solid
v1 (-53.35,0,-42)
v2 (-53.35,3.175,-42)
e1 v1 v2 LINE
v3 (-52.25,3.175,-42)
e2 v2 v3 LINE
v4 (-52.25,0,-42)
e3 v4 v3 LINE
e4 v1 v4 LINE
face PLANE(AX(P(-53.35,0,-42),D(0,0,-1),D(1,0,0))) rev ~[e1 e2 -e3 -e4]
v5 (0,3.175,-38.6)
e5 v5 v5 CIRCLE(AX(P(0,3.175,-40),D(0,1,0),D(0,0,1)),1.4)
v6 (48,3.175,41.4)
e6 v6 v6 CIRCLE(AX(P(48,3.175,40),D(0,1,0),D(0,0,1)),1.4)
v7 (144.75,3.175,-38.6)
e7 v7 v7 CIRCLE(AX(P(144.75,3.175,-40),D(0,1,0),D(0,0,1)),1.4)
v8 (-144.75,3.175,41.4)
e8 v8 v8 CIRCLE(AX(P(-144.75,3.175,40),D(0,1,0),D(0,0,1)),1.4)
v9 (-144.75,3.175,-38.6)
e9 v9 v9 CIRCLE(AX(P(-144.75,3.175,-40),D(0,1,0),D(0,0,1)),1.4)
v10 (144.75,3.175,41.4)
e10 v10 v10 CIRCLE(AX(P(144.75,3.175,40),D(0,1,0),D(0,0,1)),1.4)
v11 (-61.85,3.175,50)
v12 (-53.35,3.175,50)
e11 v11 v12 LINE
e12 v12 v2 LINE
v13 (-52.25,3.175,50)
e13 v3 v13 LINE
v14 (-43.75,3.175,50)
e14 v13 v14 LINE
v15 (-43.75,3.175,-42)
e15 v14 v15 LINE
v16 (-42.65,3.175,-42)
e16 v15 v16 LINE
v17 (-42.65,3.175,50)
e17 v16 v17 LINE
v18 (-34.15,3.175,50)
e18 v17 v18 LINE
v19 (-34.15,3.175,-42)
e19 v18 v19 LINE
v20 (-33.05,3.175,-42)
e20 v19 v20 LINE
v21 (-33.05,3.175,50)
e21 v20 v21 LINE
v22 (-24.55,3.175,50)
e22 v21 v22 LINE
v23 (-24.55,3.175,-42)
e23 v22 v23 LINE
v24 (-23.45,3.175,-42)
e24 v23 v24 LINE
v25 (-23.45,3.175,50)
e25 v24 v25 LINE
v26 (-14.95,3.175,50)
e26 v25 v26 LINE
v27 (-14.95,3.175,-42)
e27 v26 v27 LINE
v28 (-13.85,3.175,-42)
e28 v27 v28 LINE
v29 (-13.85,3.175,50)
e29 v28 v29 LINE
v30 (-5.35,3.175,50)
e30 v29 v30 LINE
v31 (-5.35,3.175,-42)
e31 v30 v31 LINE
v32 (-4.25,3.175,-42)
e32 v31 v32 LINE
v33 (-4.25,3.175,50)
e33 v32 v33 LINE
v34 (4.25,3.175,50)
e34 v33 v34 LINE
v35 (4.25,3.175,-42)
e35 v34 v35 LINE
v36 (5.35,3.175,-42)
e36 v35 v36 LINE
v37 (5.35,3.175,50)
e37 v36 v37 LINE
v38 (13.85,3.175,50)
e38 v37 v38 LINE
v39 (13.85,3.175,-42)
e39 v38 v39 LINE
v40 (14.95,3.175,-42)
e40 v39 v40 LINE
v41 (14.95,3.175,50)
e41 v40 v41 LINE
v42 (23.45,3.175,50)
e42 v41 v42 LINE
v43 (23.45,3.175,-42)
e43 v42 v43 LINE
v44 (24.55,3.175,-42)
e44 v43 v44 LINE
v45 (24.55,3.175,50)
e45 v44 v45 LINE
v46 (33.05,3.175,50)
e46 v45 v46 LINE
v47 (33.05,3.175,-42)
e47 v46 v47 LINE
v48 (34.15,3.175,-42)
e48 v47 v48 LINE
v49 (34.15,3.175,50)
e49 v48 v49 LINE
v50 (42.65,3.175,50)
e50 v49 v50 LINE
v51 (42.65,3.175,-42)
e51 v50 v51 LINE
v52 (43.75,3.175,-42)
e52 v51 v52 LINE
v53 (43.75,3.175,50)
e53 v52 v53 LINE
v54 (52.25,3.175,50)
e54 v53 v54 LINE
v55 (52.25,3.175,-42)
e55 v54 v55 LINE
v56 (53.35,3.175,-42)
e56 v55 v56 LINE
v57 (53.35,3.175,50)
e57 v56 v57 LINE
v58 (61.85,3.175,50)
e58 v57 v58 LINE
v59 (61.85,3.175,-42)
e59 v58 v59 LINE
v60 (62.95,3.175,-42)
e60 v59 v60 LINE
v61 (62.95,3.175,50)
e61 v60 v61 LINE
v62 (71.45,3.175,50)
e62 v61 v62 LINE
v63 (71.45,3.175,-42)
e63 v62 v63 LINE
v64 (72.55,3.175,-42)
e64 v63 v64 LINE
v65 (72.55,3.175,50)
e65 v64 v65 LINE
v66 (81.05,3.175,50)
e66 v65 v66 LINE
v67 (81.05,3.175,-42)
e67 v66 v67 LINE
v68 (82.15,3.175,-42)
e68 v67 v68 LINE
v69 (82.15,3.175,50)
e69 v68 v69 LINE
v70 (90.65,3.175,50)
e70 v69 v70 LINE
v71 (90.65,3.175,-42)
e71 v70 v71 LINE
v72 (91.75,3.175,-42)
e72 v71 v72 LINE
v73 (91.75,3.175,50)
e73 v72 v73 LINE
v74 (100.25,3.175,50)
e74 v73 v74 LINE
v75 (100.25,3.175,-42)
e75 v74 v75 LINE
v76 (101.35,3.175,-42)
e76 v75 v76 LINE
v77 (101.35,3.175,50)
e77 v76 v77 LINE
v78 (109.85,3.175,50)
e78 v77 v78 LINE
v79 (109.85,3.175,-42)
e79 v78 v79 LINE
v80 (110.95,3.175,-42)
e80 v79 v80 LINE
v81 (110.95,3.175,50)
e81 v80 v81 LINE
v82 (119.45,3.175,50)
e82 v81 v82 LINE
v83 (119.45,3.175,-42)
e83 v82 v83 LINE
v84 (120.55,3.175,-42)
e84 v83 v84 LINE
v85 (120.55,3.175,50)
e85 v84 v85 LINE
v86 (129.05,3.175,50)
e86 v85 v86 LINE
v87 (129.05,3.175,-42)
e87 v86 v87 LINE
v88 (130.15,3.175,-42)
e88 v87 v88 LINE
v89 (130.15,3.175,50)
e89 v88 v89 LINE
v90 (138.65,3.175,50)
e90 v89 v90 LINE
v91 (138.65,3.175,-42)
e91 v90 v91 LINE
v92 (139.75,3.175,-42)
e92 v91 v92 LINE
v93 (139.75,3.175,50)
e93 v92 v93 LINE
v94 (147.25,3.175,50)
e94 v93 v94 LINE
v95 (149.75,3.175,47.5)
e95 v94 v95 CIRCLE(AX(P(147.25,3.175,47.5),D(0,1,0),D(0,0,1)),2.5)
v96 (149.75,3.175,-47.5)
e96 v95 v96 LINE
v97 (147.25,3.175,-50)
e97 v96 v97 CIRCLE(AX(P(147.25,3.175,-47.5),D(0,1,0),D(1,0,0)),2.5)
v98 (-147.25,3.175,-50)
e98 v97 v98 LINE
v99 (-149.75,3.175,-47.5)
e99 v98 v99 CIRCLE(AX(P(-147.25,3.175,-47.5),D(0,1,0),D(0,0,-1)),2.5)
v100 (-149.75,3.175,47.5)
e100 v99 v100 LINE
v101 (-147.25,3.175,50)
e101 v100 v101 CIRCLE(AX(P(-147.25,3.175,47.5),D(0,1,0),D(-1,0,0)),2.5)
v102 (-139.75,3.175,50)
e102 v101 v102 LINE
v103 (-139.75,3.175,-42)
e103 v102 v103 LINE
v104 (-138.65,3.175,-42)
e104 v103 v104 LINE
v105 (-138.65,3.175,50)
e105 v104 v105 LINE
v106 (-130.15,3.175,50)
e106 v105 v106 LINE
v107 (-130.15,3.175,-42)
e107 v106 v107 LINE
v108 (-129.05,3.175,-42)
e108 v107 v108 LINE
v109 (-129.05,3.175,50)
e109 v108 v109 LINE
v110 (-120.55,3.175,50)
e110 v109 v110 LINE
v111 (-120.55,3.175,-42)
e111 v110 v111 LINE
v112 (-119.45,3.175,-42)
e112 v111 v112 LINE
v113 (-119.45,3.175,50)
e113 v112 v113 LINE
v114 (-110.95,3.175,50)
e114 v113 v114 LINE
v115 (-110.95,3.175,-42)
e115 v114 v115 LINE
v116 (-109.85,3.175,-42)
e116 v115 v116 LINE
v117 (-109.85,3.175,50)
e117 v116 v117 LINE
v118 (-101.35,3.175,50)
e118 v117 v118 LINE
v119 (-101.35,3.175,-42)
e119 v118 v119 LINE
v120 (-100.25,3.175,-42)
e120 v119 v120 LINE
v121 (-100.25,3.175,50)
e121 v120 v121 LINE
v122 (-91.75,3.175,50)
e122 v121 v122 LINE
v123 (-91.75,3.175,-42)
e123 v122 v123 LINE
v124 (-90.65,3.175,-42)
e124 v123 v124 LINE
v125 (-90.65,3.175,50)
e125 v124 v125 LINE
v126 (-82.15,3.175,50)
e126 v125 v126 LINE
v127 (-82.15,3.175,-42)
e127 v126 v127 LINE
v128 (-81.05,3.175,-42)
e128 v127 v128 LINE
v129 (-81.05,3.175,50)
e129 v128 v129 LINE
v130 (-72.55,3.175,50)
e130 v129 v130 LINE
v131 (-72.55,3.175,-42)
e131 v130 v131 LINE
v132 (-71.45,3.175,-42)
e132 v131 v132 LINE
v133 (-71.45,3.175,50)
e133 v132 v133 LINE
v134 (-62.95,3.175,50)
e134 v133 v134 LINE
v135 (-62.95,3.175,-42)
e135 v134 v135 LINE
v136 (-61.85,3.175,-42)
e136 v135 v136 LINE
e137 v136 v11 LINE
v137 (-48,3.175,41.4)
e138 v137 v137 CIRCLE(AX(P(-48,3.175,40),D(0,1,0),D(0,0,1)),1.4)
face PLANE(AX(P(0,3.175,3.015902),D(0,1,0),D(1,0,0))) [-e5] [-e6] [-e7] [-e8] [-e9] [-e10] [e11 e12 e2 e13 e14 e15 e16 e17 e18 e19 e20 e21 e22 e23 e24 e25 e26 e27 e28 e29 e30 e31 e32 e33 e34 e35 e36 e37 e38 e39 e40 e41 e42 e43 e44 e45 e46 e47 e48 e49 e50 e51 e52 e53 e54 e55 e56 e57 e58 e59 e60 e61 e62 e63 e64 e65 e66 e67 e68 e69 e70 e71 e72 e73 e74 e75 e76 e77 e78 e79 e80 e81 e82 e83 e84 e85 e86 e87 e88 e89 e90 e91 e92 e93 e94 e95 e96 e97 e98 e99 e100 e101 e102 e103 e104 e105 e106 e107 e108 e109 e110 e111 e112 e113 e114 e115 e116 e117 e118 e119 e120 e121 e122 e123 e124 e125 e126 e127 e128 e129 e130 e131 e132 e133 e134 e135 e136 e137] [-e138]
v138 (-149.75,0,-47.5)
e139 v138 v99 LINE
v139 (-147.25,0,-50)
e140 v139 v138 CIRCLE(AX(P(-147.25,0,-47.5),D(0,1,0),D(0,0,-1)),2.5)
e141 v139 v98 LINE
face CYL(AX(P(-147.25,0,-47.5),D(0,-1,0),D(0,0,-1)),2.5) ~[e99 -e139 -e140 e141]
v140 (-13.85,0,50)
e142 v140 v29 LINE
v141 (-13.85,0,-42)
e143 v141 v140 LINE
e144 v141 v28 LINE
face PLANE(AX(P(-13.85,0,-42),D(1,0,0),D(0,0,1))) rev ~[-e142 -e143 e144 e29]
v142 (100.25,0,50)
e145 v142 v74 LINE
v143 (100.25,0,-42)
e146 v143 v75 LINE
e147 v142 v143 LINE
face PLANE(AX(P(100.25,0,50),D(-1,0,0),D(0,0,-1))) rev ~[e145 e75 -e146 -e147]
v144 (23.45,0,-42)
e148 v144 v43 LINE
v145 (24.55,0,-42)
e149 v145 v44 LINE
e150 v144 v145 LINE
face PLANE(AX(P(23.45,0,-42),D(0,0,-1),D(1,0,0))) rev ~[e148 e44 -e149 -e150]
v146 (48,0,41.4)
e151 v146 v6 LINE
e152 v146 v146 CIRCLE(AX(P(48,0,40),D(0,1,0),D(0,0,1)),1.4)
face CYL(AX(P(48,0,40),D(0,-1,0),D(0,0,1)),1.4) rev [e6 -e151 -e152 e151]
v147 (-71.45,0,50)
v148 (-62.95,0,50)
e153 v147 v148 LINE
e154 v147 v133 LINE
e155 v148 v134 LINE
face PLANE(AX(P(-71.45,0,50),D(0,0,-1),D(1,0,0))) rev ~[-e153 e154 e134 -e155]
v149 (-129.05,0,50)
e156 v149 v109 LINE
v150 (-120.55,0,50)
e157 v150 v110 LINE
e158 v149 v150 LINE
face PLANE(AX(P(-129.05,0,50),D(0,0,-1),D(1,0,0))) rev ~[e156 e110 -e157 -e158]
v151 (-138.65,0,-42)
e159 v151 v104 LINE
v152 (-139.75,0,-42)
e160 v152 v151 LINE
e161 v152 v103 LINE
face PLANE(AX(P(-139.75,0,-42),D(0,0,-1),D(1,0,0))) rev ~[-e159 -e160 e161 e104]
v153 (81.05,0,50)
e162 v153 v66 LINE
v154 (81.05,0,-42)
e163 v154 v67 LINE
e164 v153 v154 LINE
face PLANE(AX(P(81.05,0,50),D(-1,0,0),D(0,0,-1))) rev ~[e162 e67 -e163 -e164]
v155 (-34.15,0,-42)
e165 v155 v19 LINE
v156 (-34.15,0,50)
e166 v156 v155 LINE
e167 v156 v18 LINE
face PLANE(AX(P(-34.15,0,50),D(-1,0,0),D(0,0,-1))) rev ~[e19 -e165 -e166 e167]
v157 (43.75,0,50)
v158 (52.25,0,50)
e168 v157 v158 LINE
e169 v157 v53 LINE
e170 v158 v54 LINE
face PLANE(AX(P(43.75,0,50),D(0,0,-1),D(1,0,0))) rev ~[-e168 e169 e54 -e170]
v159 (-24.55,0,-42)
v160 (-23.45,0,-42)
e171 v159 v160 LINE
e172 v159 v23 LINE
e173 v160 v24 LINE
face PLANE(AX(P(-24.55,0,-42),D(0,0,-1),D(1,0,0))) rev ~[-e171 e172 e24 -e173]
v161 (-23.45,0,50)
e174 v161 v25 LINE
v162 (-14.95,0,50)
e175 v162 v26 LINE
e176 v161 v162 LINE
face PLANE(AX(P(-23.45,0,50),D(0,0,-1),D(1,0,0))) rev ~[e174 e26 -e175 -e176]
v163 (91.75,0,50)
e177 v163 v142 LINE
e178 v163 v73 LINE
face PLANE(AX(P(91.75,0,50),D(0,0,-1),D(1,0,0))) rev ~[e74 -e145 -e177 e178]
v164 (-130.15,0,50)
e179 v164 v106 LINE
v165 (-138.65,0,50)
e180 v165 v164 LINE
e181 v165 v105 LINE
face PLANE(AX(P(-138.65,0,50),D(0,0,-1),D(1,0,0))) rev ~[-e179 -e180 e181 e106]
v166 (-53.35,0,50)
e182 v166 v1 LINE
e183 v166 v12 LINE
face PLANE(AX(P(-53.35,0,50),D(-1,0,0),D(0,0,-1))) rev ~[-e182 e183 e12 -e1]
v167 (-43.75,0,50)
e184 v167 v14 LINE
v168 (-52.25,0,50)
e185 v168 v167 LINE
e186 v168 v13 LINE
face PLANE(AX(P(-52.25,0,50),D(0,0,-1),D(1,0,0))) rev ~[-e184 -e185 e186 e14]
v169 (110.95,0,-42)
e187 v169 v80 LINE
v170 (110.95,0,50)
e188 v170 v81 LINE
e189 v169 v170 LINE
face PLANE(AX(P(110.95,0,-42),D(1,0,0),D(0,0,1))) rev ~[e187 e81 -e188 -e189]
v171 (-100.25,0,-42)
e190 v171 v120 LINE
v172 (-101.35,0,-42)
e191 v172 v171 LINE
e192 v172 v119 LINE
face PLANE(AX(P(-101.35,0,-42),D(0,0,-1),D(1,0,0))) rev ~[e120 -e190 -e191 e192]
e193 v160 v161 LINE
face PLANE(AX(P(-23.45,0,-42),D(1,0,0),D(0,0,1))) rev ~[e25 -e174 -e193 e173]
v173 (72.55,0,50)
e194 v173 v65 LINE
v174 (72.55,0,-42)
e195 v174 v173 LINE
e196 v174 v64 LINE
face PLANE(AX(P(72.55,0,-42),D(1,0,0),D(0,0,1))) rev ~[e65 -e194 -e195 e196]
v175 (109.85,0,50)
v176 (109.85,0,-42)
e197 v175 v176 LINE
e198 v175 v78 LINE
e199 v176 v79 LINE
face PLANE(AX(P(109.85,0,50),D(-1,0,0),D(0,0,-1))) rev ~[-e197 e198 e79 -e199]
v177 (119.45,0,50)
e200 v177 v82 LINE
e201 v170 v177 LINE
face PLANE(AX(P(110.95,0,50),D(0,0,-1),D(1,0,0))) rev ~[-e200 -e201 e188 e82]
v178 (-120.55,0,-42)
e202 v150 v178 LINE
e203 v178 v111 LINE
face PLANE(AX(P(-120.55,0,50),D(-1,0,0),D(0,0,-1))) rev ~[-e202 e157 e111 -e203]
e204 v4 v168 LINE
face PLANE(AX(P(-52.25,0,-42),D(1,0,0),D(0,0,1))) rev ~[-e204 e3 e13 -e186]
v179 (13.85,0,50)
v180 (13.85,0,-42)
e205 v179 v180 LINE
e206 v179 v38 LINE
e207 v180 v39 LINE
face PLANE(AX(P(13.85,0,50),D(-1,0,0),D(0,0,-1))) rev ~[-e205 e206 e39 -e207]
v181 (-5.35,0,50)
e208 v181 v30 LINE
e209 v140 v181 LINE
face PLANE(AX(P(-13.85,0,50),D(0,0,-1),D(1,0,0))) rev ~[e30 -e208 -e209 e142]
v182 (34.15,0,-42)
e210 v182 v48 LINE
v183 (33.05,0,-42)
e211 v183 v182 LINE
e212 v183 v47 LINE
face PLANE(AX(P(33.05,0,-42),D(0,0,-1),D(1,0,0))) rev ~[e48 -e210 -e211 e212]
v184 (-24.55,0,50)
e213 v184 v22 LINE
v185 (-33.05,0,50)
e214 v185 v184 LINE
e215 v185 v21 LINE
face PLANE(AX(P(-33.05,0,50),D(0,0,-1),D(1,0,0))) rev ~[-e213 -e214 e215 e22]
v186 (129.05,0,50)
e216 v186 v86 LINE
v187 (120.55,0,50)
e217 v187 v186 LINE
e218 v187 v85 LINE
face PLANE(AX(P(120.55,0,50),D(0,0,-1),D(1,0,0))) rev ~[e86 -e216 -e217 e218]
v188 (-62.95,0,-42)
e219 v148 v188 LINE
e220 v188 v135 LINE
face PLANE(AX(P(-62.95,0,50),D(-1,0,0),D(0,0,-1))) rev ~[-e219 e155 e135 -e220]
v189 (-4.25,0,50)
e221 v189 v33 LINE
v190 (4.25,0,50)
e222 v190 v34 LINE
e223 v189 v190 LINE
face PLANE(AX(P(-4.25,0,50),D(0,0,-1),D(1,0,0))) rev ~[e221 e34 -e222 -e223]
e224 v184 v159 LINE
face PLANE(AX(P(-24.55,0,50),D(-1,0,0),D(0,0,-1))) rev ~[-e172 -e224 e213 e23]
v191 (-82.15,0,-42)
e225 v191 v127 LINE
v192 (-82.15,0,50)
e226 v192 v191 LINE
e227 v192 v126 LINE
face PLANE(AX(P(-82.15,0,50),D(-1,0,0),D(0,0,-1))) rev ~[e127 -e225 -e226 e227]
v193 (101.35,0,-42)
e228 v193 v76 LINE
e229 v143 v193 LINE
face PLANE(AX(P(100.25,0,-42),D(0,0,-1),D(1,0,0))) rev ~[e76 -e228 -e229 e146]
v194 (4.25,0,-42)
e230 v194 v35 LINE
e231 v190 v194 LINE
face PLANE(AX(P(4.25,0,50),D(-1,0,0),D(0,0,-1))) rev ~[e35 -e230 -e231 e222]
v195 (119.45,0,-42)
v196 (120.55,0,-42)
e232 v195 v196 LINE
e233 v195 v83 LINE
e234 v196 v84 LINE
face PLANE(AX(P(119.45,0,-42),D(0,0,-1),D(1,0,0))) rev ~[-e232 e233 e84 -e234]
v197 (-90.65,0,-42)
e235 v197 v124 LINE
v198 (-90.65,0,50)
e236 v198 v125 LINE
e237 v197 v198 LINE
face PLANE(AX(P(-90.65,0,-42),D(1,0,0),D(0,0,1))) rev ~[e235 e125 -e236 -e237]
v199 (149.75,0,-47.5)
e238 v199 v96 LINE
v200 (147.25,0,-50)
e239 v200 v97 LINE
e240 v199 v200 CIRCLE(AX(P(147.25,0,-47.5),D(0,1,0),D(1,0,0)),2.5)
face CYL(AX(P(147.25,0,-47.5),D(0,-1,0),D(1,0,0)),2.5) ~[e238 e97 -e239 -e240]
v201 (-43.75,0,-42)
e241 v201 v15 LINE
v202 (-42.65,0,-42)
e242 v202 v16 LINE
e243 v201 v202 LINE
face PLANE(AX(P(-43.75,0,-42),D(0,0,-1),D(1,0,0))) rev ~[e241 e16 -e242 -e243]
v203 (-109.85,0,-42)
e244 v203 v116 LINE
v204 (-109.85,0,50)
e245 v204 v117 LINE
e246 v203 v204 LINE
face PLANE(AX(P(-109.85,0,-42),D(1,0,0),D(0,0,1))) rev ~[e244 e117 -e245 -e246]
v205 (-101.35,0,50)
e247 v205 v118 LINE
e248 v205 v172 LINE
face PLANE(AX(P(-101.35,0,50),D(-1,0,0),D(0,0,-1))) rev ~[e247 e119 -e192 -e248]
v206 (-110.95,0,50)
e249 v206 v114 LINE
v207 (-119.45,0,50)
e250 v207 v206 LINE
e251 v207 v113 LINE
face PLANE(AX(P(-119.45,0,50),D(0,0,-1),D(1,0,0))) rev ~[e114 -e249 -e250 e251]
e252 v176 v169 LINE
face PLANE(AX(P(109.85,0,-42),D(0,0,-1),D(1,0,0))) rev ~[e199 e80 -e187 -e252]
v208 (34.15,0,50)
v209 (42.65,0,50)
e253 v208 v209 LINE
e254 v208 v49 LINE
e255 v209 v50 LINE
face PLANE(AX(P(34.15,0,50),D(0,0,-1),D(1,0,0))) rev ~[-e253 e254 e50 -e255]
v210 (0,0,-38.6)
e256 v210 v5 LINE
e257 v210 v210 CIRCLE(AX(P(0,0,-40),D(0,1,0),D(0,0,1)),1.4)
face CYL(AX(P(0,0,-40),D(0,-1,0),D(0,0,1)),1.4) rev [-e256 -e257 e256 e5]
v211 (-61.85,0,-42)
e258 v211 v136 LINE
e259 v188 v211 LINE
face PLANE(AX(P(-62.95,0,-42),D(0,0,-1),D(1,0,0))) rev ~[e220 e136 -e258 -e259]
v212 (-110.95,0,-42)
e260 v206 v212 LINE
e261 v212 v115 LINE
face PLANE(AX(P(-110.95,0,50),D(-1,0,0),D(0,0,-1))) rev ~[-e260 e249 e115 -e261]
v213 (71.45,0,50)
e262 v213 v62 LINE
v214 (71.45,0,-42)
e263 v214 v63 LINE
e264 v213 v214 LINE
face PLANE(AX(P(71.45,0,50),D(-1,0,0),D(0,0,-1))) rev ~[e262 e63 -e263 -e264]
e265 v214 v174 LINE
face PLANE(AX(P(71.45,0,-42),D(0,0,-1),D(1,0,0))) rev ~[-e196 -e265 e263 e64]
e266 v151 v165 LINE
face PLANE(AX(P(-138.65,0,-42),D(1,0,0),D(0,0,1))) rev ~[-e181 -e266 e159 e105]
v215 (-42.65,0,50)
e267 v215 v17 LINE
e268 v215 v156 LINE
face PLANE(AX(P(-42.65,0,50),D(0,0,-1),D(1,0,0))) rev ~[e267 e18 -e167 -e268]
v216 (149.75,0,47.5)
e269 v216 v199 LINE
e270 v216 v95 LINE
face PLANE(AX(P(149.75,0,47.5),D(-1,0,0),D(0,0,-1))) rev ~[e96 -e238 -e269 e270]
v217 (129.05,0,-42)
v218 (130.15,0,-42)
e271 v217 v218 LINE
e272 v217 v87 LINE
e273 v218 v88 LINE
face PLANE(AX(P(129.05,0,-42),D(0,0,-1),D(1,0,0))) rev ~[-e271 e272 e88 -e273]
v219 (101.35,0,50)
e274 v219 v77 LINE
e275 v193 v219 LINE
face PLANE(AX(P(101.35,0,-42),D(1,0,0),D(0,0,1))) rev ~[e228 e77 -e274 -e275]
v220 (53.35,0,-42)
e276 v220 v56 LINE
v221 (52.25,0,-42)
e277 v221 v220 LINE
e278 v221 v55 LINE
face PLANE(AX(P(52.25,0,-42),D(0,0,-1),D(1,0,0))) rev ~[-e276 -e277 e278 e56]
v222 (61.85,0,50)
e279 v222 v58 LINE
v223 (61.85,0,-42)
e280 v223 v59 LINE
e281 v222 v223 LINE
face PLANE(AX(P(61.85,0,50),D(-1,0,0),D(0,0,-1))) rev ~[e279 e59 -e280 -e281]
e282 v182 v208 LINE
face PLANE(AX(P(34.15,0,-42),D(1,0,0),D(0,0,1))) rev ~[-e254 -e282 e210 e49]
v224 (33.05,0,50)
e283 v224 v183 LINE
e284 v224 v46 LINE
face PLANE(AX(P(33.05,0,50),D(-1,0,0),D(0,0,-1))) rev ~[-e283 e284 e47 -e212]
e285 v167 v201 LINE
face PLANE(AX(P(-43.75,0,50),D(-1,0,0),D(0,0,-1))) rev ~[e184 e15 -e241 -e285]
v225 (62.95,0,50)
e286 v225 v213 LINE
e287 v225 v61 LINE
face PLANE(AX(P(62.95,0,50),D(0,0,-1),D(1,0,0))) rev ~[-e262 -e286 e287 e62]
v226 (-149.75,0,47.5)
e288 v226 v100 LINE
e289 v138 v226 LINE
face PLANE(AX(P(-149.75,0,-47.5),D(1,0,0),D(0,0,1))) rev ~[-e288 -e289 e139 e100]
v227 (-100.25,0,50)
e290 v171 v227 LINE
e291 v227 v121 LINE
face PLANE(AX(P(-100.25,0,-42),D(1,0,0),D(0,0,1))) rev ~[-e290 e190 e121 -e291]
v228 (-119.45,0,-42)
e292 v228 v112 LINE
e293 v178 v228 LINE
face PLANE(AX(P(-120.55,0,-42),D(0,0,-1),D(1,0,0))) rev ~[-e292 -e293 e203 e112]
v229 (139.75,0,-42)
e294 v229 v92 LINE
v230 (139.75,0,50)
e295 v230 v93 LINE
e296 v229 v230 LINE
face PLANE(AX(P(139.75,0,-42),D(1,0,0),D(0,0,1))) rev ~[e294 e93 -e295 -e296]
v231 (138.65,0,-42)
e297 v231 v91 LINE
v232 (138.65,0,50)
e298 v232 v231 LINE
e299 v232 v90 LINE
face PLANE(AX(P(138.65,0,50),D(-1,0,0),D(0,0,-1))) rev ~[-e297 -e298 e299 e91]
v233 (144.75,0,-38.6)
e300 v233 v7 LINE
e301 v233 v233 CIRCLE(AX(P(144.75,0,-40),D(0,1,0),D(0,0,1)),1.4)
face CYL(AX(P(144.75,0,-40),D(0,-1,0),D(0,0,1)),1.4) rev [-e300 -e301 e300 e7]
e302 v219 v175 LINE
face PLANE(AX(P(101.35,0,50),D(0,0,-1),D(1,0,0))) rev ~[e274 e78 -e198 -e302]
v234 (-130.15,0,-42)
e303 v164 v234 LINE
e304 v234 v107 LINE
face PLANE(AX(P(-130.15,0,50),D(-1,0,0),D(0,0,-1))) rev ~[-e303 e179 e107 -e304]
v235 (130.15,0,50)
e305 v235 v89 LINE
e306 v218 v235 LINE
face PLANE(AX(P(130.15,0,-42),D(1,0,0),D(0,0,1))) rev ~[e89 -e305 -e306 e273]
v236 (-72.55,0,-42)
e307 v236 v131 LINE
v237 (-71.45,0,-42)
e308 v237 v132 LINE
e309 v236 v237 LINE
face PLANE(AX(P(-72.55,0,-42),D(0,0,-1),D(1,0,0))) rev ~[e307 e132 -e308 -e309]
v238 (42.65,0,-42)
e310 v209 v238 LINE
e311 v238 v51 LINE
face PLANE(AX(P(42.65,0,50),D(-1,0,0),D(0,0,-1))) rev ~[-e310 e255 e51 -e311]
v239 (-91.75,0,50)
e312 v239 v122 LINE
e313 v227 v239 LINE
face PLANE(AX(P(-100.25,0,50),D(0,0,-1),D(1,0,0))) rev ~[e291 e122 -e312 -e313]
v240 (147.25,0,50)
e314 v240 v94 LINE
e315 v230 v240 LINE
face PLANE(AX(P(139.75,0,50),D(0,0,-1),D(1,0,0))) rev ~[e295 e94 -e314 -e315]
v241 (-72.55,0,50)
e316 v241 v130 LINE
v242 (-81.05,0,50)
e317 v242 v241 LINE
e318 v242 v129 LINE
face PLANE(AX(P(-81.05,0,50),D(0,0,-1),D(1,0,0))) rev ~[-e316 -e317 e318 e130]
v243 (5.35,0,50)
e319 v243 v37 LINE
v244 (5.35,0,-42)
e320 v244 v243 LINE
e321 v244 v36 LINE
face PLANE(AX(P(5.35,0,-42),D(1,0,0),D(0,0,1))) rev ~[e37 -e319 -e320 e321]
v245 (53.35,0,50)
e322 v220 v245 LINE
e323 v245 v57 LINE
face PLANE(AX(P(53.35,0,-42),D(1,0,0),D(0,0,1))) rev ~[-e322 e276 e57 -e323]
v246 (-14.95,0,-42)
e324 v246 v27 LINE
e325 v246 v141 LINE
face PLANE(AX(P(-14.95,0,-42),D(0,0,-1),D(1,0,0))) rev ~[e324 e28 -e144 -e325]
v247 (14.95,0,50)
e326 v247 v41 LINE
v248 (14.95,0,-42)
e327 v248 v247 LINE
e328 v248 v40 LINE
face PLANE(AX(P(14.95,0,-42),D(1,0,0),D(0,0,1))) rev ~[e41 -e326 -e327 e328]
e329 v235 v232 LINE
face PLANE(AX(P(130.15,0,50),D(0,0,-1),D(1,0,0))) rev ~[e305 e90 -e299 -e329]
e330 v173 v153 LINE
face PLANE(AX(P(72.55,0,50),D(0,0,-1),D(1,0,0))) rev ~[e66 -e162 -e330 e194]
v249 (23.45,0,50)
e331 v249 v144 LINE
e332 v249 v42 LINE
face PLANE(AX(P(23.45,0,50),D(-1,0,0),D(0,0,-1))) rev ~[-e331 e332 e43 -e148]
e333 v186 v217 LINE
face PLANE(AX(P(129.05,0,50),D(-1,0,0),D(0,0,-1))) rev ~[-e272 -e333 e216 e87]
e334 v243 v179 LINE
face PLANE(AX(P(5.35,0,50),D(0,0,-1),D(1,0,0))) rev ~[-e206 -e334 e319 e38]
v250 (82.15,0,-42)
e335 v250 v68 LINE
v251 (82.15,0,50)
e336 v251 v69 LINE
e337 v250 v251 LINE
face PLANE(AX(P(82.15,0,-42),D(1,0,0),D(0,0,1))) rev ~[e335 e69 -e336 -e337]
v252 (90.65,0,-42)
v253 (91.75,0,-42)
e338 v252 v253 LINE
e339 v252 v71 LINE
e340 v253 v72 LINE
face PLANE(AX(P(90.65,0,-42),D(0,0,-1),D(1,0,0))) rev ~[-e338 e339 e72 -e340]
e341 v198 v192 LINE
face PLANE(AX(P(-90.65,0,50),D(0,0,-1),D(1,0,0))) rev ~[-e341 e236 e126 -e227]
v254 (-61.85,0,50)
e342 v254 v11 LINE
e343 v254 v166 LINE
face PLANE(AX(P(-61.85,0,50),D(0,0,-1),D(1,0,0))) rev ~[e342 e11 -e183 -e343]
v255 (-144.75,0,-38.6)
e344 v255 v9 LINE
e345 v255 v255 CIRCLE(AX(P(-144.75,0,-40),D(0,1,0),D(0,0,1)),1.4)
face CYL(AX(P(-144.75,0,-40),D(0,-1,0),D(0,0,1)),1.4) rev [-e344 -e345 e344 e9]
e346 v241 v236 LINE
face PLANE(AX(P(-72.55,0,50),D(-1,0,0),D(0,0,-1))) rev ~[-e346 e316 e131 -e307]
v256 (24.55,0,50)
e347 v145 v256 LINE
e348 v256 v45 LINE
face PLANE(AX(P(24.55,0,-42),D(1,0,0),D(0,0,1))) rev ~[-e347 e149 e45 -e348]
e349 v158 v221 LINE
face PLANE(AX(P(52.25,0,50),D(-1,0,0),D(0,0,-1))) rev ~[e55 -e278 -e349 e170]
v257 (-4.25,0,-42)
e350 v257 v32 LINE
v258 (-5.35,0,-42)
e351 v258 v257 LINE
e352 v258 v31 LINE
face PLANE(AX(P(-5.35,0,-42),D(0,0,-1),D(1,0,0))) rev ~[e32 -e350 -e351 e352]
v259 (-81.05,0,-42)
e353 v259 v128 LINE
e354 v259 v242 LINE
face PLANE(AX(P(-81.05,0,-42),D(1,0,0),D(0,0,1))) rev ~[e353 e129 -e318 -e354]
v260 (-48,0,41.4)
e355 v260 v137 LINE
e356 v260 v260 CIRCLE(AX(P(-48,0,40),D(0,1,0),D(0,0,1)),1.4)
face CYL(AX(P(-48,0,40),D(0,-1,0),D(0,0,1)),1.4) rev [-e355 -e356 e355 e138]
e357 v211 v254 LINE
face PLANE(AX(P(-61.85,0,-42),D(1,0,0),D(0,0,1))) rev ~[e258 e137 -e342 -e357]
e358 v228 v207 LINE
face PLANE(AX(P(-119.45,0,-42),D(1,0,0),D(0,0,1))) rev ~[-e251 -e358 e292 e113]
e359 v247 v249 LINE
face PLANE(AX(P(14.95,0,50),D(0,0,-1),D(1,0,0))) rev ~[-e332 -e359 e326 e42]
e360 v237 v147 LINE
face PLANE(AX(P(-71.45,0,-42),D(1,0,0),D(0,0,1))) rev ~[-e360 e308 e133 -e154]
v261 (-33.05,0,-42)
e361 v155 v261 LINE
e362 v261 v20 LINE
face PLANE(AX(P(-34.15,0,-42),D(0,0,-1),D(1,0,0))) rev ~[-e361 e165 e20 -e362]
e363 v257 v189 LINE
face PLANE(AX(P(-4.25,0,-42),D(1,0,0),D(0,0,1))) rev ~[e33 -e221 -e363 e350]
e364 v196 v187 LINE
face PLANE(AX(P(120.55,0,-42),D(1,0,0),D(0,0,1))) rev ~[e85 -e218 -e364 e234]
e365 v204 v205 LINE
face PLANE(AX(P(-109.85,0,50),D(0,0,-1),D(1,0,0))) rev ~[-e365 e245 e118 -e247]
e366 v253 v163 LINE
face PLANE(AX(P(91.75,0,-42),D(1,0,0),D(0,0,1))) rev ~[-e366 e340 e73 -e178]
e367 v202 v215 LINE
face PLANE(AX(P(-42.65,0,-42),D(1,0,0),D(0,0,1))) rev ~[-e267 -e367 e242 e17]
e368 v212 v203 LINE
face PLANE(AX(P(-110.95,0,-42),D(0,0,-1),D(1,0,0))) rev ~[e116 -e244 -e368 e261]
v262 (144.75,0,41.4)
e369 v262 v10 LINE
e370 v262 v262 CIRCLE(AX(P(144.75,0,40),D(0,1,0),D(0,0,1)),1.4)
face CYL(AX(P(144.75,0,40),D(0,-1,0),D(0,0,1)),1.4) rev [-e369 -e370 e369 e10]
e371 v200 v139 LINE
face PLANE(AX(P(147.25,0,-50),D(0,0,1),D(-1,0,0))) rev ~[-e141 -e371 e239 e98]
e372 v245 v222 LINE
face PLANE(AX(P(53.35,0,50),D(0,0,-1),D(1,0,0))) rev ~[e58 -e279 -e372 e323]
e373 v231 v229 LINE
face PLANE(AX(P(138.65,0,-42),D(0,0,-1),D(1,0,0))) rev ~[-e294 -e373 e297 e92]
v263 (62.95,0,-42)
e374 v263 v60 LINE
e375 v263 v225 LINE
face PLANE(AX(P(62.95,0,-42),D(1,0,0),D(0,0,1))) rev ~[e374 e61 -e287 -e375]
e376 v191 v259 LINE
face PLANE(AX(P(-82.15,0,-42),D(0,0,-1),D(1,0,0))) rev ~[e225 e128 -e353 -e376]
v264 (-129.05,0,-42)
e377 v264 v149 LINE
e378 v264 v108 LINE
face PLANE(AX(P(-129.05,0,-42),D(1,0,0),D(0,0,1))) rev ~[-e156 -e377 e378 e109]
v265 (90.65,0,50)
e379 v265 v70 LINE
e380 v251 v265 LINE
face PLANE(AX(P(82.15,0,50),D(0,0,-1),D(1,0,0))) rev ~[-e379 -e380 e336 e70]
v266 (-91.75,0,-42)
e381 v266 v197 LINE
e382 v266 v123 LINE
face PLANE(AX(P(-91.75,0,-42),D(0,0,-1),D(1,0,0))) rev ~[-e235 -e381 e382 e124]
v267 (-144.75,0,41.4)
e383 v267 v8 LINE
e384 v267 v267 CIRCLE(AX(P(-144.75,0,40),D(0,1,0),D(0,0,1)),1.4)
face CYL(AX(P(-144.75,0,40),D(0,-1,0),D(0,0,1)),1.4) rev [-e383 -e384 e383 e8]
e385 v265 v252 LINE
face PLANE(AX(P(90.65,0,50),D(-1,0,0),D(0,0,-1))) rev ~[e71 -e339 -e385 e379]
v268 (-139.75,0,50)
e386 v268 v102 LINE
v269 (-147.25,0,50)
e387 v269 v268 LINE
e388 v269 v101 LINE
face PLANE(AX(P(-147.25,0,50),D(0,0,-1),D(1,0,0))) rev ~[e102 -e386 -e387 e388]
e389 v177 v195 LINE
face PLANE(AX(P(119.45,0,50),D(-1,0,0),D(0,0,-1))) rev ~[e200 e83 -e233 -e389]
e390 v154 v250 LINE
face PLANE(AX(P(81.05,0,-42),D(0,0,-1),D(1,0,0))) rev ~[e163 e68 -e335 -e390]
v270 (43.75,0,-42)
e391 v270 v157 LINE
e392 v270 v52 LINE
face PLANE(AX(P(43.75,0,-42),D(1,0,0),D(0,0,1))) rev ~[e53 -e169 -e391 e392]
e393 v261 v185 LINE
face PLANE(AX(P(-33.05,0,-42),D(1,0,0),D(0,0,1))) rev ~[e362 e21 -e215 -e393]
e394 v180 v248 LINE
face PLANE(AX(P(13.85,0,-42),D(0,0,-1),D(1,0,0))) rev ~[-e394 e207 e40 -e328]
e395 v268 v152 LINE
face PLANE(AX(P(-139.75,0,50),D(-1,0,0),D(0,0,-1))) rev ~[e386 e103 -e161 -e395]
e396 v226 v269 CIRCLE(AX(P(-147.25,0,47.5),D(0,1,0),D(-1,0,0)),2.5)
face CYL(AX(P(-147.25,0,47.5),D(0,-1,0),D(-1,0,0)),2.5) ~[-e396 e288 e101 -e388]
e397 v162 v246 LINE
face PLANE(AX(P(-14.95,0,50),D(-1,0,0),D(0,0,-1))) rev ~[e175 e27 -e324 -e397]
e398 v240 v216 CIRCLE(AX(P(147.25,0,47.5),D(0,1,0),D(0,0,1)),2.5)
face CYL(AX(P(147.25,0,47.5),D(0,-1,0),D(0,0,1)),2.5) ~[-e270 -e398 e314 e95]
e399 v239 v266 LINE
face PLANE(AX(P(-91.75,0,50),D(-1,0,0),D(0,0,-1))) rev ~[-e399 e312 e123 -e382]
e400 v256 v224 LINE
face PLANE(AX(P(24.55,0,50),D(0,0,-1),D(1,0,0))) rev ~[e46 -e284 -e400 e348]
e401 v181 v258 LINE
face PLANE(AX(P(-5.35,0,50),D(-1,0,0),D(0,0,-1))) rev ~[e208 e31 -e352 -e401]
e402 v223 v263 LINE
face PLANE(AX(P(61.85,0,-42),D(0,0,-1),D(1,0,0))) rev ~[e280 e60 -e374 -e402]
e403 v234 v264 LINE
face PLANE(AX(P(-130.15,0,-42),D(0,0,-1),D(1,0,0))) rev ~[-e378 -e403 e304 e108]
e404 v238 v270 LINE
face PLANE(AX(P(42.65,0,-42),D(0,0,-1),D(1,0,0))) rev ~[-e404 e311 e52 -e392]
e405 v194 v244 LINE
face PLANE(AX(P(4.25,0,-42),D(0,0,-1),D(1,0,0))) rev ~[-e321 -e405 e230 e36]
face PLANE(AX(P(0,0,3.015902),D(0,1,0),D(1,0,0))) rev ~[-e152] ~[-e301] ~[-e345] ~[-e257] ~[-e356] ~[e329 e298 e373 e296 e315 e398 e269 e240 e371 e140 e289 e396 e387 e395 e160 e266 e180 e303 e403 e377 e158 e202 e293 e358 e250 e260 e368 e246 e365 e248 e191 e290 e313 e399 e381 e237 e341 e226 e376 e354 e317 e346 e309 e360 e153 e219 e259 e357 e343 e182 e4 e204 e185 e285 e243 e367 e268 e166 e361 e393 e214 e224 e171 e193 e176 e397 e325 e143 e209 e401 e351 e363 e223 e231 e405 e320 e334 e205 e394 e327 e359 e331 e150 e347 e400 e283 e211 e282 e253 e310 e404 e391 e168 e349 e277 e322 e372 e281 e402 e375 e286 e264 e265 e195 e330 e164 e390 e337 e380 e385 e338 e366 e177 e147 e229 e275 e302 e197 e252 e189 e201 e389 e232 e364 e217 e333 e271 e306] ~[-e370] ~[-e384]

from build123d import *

# Parameters (mm, degrees)
SKETCH3_R           = 1.4
BOSS_EXTRUDE1_DEPTH = 3.175


with BuildPart() as part:
    # Sketch3 → Boss-Extrude1 (new body)
    with BuildSketch(Plane(origin=(0, 0, 0), x_dir=(1, 0, 0), z_dir=(0, 1, 0))):
        with BuildLine():
            Line((-72.55, 42), (-71.45, 42))
            Line((-71.45, 42), (-71.45, -50))
            Line((-71.45, -50), (-62.95, -50))
            Line((-62.95, -50), (-62.95, 42))
            Line((-62.95, 42), (-61.85, 42))
            Line((-61.85, 42), (-61.85, -50))
            Line((-61.85, -50), (-53.35, -50))
            Line((-53.35, -50), (-53.35, 42))
            Line((-53.35, 42), (-52.25, 42))
            Line((-52.25, 42), (-52.25, -50))
            Line((-52.25, -50), (-43.75, -50))
            Line((-43.75, -50), (-43.75, 42))
            Line((-43.75, 42), (-42.65, 42))
            Line((-42.65, 42), (-42.65, -50))
            Line((-42.65, -50), (-34.15, -50))
            Line((-34.15, -50), (-34.15, 42))
            Line((-34.15, 42), (-33.05, 42))
            Line((-33.05, 42), (-33.05, -50))
            Line((-33.05, -50), (-24.55, -50))
            Line((-24.55, -50), (-24.55, 42))
            Line((-24.55, 42), (-23.45, 42))
            Line((-23.45, 42), (-23.45, -50))
            Line((-23.45, -50), (-14.95, -50))
            Line((-14.95, -50), (-14.95, 42))
            Line((-14.95, 42), (-13.85, 42))
            Line((-13.85, 42), (-13.85, -50))
            Line((-13.85, -50), (-5.35, -50))
            Line((-5.35, -50), (-5.35, 42))
            Line((-5.35, 42), (-4.25, 42))
            Line((-4.25, 42), (-4.25, -50))
            Line((-4.25, -50), (4.25, -50))
            Line((4.25, -50), (4.25, 42))
            Line((4.25, 42), (5.35, 42))
            Line((5.35, 42), (5.35, -50))
            Line((5.35, -50), (13.85, -50))
            Line((13.85, -50), (13.85, 42))
            Line((13.85, 42), (14.95, 42))
            Line((14.95, 42), (14.95, -50))
            Line((14.95, -50), (23.45, -50))
            Line((23.45, -50), (23.45, 42))
            Line((23.45, 42), (24.55, 42))
            Line((24.55, 42), (24.55, -50))
            Line((24.55, -50), (33.05, -50))
            Line((33.05, -50), (33.05, 42))
            Line((33.05, 42), (34.15, 42))
            Line((34.15, 42), (34.15, -50))
            Line((34.15, -50), (42.65, -50))
            Line((42.65, -50), (42.65, 42))
            Line((42.65, 42), (43.75, 42))
            Line((43.75, 42), (43.75, -50))
            Line((43.75, -50), (52.25, -50))
            Line((52.25, -50), (52.25, 42))
            Line((52.25, 42), (53.35, 42))
            Line((53.35, 42), (53.35, -50))
            Line((53.35, -50), (61.85, -50))
            Line((61.85, -50), (61.85, 42))
            Line((61.85, 42), (62.95, 42))
            Line((62.95, 42), (62.95, -50))
            Line((62.95, -50), (71.45, -50))
            Line((71.45, -50), (71.45, 42))
            Line((71.45, 42), (72.55, 42))
            Line((72.55, 42), (72.55, -50))
            Line((72.55, -50), (81.05, -50))
            Line((81.05, -50), (81.05, 42))
            Line((81.05, 42), (82.15, 42))
            Line((82.15, 42), (82.15, -50))
            Line((82.15, -50), (90.65, -50))
            Line((90.65, -50), (90.65, 42))
            Line((90.65, 42), (91.75, 42))
            Line((91.75, 42), (91.75, -50))
            Line((91.75, -50), (100.25, -50))
            Line((100.25, -50), (100.25, 42))
            Line((100.25, 42), (101.35, 42))
            Line((101.35, 42), (101.35, -50))
            Line((101.35, -50), (109.85, -50))
            Line((109.85, -50), (109.85, 42))
            Line((109.85, 42), (110.95, 42))
            Line((110.95, 42), (110.95, -50))
            Line((110.95, -50), (119.45, -50))
            Line((119.45, -50), (119.45, 42))
            Line((119.45, 42), (120.55, 42))
            Line((120.55, 42), (120.55, -50))
            Line((120.55, -50), (129.05, -50))
            Line((129.05, -50), (129.05, 42))
            Line((129.05, 42), (130.15, 42))
            Line((130.15, 42), (130.15, -50))
            Line((130.15, -50), (138.65, -50))
            Line((138.65, -50), (138.65, 42))
            Line((138.65, 42), (139.75, 42))
            Line((139.75, 42), (139.75, -50))
            Line((139.75, -50), (147.25, -50))
            ThreePointArc((147.25, -50), (149.017766953, -49.267766953), (149.75, -47.5))
            Line((149.75, -47.5), (149.75, 47.5))
            ThreePointArc((149.75, 47.5), (149.017766953, 49.267766953), (147.25, 50))
            Line((147.25, 50), (-147.25, 50))
            ThreePointArc((-147.25, 50), (-149.017766953, 49.267766953), (-149.75, 47.5))
            Line((-149.75, 47.5), (-149.75, -47.5))
            ThreePointArc((-149.75, -47.5), (-149.017766953, -49.267766953), (-147.25, -50))
            Line((-147.25, -50), (-139.75, -50))
            Line((-139.75, -50), (-139.75, 42))
            Line((-139.75, 42), (-138.65, 42))
            Line((-138.65, 42), (-138.65, -50))
            Line((-138.65, -50), (-130.15, -50))
            Line((-130.15, -50), (-130.15, 42))
            Line((-130.15, 42), (-129.05, 42))
            Line((-129.05, 42), (-129.05, -50))
            Line((-129.05, -50), (-120.55, -50))
            Line((-120.55, -50), (-120.55, 42))
            Line((-120.55, 42), (-119.45, 42))
            Line((-119.45, 42), (-119.45, -50))
            Line((-119.45, -50), (-110.95, -50))
            Line((-110.95, -50), (-110.95, 42))
            Line((-110.95, 42), (-109.85, 42))
            Line((-109.85, 42), (-109.85, -50))
            Line((-109.85, -50), (-101.35, -50))
            Line((-101.35, -50), (-101.35, 42))
            Line((-101.35, 42), (-100.25, 42))
            Line((-100.25, 42), (-100.25, -50))
            Line((-100.25, -50), (-91.75, -50))
            Line((-91.75, -50), (-91.75, 42))
            Line((-91.75, 42), (-90.65, 42))
            Line((-90.65, 42), (-90.65, -50))
            Line((-90.65, -50), (-82.15, -50))
            Line((-82.15, -50), (-82.15, 42))
            Line((-82.15, 42), (-81.05, 42))
            Line((-81.05, 42), (-81.05, -50))
            Line((-81.05, -50), (-72.55, -50))
            Line((-72.55, -50), (-72.55, 42))
        make_face()
        with Locations(Location((-144.75, -40, 0), (0, 0, 270))):
            Circle(SKETCH3_R, mode=Mode.SUBTRACT)
        with Locations(Location((-48, -40, 0), (0, 0, 270))):
            Circle(SKETCH3_R, mode=Mode.SUBTRACT)
        with Locations(Location((48, -40, 0), (0, 0, 270))):
            Circle(SKETCH3_R, mode=Mode.SUBTRACT)
        with Locations(Location((144.75, -40, 0), (0, 0, 270))):
            Circle(SKETCH3_R, mode=Mode.SUBTRACT)
        with Locations(Location((-144.75, 40, 0), (0, 0, 270))):
            Circle(SKETCH3_R, mode=Mode.SUBTRACT)
        with Locations(Location((0, 40, 0), (0, 0, 270))):
            Circle(SKETCH3_R, mode=Mode.SUBTRACT)
        with Locations(Location((144.75, 40, 0), (0, 0, 270))):
            Circle(SKETCH3_R, mode=Mode.SUBTRACT)
    extrude(amount=BOSS_EXTRUDE1_DEPTH)


solid = part.part
